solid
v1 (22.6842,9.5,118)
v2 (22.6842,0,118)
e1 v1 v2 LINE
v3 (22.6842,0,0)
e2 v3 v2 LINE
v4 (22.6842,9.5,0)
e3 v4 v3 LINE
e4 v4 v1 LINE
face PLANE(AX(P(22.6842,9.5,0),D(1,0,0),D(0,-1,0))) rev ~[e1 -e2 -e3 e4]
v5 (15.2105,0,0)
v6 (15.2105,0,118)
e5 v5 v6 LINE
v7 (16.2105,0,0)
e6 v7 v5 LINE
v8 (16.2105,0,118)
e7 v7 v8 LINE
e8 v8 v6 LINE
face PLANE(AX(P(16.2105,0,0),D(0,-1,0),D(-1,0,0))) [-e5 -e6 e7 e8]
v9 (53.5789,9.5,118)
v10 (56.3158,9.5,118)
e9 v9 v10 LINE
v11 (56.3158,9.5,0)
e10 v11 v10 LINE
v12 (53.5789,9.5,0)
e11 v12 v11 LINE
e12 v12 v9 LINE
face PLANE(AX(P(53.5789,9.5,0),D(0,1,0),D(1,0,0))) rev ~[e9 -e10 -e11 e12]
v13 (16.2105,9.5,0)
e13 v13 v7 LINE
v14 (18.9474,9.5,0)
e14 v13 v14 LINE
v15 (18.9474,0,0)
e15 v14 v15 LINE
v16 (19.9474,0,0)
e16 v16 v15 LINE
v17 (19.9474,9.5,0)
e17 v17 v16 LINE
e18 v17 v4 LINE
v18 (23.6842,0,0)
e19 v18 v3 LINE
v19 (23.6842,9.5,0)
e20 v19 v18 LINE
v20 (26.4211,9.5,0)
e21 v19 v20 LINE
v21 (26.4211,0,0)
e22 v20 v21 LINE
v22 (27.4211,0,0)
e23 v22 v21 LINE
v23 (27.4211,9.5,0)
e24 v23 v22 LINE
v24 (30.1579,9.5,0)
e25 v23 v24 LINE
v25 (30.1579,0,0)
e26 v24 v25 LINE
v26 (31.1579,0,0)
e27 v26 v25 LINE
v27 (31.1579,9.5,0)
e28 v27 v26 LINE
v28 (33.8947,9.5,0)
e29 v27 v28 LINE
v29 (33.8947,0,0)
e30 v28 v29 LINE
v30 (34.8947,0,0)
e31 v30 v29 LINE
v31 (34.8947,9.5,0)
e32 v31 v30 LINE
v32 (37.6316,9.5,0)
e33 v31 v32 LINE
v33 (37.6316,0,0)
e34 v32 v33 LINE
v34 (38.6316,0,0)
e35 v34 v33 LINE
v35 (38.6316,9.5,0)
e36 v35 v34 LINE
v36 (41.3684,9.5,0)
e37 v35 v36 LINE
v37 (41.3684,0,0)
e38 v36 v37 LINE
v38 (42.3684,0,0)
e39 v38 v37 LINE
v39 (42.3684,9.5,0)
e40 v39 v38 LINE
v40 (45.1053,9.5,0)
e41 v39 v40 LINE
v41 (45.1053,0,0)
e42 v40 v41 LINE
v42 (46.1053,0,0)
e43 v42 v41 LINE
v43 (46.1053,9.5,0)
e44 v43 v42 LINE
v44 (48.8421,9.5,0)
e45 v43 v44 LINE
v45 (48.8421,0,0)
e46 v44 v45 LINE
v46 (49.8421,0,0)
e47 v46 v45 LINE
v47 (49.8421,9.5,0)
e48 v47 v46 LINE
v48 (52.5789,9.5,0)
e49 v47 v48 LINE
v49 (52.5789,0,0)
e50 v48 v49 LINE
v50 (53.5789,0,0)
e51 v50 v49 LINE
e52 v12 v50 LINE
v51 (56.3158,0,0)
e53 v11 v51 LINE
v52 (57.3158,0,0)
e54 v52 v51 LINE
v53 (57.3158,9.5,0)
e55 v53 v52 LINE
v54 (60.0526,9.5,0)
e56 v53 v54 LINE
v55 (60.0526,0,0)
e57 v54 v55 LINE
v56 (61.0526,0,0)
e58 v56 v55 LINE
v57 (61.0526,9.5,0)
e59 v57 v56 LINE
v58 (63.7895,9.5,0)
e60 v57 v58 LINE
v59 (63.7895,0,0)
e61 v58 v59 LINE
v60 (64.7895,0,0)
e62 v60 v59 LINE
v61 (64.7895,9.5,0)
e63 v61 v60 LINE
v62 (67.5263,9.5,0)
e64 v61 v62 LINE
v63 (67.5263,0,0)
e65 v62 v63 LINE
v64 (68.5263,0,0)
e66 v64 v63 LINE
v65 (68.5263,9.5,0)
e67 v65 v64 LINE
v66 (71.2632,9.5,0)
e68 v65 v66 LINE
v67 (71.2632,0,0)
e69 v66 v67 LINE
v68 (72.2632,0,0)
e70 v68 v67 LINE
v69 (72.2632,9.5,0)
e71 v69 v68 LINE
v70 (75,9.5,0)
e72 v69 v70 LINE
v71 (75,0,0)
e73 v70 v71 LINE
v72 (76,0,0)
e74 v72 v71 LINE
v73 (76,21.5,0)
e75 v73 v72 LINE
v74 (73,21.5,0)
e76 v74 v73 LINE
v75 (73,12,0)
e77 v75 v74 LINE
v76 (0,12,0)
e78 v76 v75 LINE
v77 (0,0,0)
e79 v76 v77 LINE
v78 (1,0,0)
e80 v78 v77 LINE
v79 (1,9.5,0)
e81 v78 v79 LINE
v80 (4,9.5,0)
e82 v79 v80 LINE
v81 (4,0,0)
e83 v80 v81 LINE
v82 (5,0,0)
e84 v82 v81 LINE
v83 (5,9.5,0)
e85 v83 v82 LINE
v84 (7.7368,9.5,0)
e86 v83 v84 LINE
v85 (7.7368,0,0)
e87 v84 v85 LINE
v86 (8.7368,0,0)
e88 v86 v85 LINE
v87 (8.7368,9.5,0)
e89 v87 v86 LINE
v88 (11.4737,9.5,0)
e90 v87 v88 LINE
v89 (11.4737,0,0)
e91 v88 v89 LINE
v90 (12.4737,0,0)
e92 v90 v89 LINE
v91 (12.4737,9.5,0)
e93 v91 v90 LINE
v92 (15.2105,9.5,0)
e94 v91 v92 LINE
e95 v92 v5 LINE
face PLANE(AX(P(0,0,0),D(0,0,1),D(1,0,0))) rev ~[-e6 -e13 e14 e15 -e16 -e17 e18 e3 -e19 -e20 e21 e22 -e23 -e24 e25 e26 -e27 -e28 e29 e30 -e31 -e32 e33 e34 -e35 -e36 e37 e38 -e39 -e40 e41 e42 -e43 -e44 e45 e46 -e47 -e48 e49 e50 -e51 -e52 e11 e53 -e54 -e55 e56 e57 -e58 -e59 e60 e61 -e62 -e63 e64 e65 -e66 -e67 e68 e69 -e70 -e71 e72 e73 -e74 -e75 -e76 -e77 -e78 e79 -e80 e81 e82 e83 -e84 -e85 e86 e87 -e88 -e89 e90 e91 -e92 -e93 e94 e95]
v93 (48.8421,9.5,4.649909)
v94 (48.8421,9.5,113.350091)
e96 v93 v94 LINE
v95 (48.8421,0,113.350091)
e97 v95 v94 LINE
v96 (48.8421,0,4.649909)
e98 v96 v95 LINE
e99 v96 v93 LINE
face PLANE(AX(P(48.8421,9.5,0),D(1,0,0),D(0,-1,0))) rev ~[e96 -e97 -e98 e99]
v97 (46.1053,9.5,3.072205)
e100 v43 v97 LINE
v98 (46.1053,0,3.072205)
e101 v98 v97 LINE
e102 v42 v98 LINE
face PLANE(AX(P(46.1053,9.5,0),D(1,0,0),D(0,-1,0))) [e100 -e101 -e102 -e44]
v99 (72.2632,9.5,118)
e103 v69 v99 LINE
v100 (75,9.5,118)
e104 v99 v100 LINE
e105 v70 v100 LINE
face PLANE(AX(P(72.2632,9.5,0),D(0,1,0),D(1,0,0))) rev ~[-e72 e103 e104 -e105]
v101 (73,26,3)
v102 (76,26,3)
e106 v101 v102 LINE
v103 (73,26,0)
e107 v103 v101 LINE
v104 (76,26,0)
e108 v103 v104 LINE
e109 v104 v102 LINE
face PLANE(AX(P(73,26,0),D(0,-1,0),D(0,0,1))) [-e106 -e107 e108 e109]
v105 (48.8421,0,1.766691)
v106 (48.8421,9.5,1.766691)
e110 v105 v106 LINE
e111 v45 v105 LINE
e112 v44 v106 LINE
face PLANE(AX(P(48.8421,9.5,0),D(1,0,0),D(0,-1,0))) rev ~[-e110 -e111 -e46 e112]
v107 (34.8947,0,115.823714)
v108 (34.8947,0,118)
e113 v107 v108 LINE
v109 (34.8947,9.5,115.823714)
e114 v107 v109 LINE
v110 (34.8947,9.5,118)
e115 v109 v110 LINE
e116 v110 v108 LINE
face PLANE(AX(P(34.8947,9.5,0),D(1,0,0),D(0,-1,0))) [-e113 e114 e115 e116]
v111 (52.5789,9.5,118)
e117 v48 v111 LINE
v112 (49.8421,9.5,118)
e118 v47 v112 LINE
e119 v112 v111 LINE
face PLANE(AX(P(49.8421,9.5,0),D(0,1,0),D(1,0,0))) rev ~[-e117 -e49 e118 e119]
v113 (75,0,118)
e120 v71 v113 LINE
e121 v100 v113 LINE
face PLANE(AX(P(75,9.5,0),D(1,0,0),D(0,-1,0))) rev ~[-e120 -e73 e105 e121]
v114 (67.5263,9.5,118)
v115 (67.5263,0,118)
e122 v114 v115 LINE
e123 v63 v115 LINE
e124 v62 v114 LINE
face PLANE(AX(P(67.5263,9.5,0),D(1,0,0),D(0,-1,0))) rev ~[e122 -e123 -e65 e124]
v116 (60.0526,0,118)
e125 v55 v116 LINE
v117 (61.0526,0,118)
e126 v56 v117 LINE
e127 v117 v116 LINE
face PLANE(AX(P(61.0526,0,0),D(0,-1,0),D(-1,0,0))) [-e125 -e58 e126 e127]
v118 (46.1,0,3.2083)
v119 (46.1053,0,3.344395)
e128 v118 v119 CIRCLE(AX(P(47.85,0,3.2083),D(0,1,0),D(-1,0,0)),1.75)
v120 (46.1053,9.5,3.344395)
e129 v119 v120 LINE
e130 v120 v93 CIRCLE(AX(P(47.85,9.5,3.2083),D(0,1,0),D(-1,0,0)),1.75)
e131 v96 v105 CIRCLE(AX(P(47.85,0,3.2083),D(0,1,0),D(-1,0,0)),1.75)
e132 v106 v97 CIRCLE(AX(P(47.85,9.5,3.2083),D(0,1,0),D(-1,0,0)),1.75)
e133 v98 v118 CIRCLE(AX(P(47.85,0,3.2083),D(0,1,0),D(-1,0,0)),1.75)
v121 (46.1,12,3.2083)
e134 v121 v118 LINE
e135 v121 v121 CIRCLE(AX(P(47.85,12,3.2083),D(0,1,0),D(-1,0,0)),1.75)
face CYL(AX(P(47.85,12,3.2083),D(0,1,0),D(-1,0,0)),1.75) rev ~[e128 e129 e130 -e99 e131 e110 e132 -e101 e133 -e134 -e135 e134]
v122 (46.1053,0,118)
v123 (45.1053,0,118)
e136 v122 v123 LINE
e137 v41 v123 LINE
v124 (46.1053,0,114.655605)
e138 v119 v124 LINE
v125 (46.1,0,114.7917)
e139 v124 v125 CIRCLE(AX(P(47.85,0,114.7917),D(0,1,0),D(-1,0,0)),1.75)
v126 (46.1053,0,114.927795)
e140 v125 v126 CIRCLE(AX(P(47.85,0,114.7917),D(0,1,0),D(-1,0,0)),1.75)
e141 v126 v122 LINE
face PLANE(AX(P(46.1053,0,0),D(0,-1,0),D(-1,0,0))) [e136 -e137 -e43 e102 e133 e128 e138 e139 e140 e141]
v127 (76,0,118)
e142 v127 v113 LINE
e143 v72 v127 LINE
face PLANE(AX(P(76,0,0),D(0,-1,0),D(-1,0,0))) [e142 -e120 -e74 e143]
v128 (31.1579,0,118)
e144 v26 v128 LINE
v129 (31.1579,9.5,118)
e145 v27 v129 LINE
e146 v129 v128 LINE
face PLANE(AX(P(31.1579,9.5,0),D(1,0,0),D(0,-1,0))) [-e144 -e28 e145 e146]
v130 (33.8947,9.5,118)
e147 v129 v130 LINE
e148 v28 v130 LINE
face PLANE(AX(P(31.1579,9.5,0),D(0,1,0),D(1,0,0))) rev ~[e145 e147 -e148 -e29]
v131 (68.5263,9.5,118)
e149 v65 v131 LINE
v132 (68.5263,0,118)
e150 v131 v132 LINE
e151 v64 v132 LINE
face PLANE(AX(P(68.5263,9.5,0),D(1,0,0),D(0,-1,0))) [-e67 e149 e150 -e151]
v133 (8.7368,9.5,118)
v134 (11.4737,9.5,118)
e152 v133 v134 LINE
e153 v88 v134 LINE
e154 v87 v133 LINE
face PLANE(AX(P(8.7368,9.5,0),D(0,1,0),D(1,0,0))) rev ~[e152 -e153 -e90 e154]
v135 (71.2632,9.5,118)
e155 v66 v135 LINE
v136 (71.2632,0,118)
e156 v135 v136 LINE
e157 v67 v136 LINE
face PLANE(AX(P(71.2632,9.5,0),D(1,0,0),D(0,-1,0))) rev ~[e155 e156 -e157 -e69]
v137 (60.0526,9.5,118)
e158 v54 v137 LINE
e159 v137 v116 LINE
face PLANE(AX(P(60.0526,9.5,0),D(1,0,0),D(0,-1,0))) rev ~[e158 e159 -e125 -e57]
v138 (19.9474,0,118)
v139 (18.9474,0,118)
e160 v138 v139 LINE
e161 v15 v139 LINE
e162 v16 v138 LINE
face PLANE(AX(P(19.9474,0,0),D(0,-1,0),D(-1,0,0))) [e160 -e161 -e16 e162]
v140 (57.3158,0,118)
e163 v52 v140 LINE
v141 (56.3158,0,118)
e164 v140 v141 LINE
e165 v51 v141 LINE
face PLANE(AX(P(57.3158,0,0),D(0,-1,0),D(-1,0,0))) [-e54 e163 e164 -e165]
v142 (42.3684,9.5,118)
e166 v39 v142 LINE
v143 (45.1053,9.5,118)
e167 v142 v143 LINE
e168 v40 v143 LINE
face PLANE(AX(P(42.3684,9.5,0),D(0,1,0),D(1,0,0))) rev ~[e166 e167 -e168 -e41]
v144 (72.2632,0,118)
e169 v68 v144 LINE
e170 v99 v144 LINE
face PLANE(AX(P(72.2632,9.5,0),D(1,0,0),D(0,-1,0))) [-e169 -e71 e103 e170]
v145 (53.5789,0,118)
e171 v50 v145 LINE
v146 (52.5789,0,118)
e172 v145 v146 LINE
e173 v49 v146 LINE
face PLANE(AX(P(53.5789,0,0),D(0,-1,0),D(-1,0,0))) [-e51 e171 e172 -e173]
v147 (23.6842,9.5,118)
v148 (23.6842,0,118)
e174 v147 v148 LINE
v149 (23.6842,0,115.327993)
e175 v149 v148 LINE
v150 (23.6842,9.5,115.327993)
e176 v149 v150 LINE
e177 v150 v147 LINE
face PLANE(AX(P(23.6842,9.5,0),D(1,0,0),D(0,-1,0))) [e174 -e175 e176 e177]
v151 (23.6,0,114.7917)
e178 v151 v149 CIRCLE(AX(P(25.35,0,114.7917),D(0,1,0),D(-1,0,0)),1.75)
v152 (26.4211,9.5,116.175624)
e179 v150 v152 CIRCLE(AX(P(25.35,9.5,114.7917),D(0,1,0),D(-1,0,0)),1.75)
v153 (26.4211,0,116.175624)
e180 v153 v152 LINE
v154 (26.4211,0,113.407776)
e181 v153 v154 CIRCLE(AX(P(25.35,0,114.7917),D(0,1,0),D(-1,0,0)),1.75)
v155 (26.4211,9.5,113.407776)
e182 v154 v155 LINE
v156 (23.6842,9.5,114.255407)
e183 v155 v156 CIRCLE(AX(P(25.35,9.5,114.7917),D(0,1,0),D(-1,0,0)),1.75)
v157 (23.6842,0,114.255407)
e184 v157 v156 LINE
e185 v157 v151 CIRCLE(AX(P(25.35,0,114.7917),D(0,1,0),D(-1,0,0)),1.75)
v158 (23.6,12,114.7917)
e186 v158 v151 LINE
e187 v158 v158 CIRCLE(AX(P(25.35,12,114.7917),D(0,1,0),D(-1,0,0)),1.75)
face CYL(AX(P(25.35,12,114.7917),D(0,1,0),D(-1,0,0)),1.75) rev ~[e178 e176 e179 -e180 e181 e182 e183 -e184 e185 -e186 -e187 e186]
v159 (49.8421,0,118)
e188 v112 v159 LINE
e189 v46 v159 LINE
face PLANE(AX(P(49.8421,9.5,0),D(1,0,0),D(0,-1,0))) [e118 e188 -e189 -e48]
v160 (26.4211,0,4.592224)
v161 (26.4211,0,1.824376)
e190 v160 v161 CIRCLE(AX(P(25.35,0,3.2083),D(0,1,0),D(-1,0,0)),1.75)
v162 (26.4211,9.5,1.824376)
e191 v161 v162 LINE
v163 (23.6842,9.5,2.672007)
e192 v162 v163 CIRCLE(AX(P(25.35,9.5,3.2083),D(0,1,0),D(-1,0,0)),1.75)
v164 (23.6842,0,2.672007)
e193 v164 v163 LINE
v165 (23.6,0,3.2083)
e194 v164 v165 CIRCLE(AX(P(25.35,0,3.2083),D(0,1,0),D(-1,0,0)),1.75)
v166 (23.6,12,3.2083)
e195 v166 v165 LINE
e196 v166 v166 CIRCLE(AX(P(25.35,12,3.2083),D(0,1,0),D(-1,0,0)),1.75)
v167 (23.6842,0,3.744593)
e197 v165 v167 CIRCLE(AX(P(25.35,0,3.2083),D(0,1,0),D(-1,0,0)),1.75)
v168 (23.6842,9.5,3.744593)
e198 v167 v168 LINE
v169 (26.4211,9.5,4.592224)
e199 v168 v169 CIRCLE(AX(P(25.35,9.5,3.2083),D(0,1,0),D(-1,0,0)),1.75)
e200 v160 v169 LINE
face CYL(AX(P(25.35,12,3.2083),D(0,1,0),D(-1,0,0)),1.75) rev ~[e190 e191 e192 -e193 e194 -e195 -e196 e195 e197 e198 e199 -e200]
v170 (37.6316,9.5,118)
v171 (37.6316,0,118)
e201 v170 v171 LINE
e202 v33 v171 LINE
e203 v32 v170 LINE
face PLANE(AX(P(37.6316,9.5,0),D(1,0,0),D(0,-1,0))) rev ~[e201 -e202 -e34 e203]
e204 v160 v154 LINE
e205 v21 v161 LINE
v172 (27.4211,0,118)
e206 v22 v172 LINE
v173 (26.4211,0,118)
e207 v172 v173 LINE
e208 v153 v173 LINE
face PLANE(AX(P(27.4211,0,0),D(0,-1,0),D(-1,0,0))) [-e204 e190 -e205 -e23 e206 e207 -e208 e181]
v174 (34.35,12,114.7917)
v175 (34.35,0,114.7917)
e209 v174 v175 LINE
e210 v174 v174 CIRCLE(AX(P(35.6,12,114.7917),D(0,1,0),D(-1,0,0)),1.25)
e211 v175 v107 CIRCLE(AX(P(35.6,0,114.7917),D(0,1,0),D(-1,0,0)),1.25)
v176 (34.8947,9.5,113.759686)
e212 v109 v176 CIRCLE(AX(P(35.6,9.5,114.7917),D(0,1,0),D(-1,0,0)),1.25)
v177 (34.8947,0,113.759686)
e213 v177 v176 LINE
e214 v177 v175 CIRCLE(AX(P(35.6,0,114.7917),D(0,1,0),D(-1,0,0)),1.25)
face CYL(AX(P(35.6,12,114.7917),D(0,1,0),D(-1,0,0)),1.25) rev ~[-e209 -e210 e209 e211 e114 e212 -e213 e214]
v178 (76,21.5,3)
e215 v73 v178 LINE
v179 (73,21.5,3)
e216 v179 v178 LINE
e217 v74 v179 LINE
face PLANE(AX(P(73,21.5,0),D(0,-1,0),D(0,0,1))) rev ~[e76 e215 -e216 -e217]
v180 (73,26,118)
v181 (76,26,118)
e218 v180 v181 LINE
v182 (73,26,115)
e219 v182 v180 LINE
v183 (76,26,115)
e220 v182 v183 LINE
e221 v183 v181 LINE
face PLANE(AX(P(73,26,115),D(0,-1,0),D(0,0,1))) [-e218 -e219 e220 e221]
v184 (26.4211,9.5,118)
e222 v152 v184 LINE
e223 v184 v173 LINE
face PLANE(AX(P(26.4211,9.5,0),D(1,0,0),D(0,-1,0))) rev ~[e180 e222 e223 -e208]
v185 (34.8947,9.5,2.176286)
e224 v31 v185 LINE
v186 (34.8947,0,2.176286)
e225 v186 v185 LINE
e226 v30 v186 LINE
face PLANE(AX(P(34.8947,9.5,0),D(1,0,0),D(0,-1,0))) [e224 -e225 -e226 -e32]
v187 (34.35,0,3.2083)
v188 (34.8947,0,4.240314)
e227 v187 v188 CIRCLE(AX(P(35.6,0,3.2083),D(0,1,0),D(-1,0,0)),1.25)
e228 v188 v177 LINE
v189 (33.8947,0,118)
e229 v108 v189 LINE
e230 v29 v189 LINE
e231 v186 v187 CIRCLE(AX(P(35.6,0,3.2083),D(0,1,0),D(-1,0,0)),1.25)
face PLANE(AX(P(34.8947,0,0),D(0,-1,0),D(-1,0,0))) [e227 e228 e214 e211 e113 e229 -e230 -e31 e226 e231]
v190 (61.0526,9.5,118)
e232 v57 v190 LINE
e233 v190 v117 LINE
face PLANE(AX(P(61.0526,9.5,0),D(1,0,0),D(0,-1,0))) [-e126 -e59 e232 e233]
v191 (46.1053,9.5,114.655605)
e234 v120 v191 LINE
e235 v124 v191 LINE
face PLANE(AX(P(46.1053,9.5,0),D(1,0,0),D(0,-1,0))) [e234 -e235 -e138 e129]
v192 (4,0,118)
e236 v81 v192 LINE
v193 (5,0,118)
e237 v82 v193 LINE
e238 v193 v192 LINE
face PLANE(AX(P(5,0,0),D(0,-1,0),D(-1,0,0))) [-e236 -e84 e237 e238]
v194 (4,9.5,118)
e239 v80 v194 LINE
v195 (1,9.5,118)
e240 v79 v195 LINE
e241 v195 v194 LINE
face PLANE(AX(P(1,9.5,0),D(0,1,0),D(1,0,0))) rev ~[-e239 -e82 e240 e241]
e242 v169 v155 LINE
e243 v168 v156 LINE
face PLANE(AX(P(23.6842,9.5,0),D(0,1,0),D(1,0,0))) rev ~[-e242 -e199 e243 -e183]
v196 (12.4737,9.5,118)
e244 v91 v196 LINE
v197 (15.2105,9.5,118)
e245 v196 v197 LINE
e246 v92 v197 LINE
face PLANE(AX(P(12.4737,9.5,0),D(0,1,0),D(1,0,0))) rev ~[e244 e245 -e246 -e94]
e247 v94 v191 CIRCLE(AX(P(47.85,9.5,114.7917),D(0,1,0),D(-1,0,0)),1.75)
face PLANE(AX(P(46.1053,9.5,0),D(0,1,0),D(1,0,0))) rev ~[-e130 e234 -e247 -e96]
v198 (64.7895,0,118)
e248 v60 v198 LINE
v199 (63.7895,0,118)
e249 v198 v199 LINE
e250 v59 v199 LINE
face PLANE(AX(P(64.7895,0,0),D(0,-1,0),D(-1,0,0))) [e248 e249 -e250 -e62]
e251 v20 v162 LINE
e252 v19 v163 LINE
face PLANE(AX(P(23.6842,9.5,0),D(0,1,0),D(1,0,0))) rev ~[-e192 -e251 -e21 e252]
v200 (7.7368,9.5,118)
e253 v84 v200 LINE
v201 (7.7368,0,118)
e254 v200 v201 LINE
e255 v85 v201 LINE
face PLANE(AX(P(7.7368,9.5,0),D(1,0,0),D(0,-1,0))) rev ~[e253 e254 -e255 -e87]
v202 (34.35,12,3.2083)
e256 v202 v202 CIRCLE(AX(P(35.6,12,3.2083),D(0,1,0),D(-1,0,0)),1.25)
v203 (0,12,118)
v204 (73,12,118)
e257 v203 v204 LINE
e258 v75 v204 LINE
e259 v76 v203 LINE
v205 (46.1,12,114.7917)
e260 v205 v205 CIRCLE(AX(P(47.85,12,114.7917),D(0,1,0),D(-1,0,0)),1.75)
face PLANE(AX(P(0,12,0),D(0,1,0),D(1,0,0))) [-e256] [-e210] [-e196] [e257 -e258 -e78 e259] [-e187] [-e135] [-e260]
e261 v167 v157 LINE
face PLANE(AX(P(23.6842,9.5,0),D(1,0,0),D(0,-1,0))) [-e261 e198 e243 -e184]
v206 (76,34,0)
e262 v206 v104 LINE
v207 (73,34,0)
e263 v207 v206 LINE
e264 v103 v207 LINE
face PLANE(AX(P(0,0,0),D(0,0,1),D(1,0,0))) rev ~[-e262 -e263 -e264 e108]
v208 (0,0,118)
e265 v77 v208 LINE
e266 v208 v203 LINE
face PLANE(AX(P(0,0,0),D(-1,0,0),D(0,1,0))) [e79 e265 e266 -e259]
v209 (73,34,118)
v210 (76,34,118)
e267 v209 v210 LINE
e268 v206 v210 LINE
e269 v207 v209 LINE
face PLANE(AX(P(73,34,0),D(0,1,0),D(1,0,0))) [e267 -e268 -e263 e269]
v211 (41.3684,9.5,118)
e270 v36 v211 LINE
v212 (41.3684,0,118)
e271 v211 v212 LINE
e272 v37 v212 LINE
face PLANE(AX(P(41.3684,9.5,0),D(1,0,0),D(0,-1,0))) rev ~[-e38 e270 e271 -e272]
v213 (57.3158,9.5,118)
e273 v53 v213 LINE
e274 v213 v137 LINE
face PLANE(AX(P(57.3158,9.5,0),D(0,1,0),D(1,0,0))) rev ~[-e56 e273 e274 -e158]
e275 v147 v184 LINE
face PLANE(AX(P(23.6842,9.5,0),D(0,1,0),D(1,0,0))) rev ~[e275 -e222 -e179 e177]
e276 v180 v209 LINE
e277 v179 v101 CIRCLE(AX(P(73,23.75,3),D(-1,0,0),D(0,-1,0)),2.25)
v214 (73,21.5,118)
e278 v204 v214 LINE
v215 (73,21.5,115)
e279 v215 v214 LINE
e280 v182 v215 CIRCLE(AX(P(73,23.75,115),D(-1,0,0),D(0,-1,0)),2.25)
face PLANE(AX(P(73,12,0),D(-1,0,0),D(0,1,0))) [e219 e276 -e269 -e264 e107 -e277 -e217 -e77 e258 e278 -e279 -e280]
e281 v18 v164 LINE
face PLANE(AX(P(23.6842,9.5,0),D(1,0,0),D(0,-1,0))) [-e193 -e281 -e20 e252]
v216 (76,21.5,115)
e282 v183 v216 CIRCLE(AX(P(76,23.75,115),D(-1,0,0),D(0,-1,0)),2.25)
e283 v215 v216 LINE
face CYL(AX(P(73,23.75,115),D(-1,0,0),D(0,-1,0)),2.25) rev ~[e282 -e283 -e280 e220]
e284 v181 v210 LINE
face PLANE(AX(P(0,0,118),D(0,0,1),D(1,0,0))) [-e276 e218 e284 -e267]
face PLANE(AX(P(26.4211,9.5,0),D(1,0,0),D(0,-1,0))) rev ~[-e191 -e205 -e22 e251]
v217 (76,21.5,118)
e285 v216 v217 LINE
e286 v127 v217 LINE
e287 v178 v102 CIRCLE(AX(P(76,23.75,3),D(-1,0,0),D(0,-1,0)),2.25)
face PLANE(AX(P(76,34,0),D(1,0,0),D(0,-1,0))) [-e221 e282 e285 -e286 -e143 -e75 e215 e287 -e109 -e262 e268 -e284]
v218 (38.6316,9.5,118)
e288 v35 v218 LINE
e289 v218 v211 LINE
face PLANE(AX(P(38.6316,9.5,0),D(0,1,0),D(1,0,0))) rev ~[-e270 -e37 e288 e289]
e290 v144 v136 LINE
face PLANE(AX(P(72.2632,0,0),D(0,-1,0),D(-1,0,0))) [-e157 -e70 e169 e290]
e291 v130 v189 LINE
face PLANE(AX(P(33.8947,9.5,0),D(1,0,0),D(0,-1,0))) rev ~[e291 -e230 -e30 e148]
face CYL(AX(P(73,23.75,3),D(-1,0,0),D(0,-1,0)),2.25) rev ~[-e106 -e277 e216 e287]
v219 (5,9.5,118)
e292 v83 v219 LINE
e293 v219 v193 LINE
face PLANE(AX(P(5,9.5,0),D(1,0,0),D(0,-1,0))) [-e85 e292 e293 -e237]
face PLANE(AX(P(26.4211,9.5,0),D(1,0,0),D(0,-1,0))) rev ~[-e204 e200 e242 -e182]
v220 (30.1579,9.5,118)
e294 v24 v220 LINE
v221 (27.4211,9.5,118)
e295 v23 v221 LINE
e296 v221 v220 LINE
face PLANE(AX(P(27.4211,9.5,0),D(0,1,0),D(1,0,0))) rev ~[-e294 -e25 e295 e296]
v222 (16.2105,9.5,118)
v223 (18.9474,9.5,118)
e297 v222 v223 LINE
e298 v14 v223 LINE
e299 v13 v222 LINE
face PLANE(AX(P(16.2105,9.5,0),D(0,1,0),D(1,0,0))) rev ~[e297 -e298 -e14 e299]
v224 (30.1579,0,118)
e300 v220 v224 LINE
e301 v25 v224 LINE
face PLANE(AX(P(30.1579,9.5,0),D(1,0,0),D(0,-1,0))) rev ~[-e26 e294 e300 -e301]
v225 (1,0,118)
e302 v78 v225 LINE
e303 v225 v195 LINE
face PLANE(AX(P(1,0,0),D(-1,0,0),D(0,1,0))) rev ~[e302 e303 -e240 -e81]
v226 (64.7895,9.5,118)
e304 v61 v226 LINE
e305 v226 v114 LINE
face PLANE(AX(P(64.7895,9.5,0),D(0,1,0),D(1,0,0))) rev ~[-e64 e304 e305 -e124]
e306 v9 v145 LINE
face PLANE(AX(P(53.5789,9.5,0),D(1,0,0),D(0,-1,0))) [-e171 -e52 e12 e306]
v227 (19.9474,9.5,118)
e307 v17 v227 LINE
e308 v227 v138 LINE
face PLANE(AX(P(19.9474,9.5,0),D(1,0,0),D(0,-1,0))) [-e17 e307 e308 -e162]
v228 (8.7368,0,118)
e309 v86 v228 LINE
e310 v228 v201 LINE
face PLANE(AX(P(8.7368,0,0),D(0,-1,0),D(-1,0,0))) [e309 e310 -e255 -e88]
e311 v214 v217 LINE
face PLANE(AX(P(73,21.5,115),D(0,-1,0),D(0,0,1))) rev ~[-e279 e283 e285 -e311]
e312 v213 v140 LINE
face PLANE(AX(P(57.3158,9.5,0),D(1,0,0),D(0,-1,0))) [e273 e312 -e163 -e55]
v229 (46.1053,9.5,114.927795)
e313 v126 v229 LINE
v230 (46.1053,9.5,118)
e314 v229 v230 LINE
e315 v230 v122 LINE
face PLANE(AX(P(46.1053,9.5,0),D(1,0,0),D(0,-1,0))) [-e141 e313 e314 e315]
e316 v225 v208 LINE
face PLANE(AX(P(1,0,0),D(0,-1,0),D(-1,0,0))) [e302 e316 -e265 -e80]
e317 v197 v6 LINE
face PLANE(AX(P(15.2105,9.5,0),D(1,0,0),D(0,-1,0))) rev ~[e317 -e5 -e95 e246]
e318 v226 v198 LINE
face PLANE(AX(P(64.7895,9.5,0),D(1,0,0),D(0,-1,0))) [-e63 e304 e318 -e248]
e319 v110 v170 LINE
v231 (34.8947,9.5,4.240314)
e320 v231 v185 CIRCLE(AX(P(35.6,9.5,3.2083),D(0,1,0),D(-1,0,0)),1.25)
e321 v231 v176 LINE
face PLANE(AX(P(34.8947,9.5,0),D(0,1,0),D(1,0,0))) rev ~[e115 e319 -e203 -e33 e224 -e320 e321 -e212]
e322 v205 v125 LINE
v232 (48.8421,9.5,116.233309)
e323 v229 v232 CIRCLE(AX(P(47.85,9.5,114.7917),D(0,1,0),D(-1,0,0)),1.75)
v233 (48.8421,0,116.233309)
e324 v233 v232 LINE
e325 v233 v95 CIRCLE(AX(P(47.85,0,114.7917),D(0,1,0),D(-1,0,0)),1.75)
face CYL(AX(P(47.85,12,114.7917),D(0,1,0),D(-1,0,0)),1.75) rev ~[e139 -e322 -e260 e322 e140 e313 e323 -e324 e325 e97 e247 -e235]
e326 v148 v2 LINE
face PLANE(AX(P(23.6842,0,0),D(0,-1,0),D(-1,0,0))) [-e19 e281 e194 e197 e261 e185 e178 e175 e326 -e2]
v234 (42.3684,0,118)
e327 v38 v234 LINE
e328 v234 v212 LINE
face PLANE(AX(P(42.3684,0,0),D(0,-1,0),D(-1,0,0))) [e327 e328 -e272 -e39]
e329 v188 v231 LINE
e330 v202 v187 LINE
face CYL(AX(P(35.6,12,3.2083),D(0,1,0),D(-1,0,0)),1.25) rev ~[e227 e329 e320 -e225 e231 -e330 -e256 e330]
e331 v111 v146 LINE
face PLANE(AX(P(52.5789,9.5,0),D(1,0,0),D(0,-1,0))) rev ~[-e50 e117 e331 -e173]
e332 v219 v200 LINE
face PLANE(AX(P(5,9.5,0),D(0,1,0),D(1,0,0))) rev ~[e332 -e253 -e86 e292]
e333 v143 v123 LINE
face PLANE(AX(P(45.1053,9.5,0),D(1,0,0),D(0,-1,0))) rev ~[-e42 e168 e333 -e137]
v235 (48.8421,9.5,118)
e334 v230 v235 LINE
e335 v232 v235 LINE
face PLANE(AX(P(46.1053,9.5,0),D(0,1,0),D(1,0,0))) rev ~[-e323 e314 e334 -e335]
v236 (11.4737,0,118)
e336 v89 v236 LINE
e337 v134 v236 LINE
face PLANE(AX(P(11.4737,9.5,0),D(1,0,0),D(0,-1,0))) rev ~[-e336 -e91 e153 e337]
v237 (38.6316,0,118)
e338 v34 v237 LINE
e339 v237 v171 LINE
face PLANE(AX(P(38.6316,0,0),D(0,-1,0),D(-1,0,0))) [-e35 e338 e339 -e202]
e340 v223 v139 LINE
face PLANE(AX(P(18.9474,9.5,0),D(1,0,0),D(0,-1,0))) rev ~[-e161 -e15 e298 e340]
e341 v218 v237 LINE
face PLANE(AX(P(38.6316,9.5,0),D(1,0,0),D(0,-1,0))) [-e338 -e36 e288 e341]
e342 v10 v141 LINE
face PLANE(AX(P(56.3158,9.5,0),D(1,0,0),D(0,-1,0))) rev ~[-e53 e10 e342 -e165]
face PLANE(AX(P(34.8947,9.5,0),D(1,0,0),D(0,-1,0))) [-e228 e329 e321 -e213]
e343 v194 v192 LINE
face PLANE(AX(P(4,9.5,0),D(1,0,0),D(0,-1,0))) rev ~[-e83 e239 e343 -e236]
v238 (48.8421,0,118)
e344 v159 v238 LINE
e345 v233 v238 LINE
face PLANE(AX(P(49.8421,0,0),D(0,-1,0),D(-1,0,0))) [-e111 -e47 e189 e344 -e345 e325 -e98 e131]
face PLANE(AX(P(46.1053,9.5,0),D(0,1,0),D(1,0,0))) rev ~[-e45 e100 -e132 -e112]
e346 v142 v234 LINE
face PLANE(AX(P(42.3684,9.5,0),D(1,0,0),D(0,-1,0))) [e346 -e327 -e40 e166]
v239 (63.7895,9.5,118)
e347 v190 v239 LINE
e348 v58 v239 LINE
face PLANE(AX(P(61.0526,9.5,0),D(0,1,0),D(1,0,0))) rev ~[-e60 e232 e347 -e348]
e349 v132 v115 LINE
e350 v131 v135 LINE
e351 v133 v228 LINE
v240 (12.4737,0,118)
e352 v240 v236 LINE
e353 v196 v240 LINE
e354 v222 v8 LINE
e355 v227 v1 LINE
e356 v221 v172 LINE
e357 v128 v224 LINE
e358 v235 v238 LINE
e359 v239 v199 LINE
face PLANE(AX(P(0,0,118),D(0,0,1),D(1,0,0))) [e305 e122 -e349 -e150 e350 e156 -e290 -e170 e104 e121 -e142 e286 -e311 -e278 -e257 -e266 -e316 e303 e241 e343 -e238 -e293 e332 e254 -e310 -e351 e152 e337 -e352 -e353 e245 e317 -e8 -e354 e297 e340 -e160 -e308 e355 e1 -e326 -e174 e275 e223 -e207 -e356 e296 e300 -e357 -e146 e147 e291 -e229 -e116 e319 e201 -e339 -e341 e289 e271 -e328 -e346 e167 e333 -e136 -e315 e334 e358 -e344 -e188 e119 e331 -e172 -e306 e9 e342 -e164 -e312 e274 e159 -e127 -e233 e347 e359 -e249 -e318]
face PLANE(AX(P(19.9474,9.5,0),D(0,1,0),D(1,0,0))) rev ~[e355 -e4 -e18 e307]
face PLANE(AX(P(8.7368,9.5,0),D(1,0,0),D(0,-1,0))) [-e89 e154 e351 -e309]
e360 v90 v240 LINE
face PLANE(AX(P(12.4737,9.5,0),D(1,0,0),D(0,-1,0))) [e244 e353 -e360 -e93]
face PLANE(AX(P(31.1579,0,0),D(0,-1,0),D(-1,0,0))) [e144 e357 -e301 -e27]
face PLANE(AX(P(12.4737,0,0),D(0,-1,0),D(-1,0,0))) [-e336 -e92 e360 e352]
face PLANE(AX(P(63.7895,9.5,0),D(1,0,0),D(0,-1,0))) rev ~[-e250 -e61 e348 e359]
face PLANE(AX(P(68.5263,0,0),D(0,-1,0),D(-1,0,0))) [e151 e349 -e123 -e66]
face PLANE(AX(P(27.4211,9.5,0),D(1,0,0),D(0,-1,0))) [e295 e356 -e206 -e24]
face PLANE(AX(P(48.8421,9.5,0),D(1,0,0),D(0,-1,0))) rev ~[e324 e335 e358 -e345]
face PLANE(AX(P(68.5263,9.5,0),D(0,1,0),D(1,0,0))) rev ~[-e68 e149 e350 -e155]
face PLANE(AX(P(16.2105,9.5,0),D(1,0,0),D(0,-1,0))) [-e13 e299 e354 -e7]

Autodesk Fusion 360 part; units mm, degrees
sketch "Sketch1" plane through (0, 0, 0) normal (0, 0, 1) x (1, 0, 0)
  line L0 (0, 0) -> (0, 12)
  line L1 (0, 12) -> (73, 12)
  line L2 (73, 12) -> (73, 34)
  line L3 (73, 34) -> (76, 34)
  line L4 (76, 34) -> (76, 0)
  line L5 (1, 0) -> (1, 9.5)
  line L6 (4, 9.5) -> (4, 0)
  line L7 (5, 9.5) -> (5, 0)
  line L8 (7.7368, 9.5) -> (7.7368, 0)
  line L9 (8.7368, 9.5) -> (8.7368, 0)
  line L10 (11.4737, 9.5) -> (11.4737, 0)
  line L11 (12.4737, 9.5) -> (12.4737, 0)
  line L12 (15.2105, 9.5) -> (15.2105, 0)
  line L13 (16.2105, 9.5) -> (16.2105, 0)
  line L14 (18.9474, 9.5) -> (18.9474, 0)
  line L15 (19.9474, 9.5) -> (19.9474, 0)
  line L16 (22.6842, 9.5) -> (22.6842, 0)
  line L17 (23.6842, 9.5) -> (23.6842, 0)
  line L18 (26.4211, 9.5) -> (26.4211, 0)
  line L19 (27.4211, 9.5) -> (27.4211, 0)
  line L20 (30.1579, 9.5) -> (30.1579, 0)
  line L21 (31.1579, 9.5) -> (31.1579, 0)
  line L22 (33.8947, 9.5) -> (33.8947, 0)
  line L23 (34.8947, 9.5) -> (34.8947, 0)
  line L24 (37.6316, 9.5) -> (37.6316, 0)
  line L25 (38.6316, 9.5) -> (38.6316, 0)
  line L26 (41.3684, 9.5) -> (41.3684, 0)
  line L27 (42.3684, 9.5) -> (42.3684, 0)
  line L28 (45.1053, 9.5) -> (45.1053, 0)
  line L29 (46.1053, 9.5) -> (46.1053, 0)
  line L30 (48.8421, 9.5) -> (48.8421, 0)
  line L31 (49.8421, 9.5) -> (49.8421, 0)
  line L32 (52.5789, 9.5) -> (52.5789, 0)
  line L33 (53.5789, 9.5) -> (53.5789, 0)
  line L34 (56.3158, 9.5) -> (56.3158, 0)
  line L35 (57.3158, 9.5) -> (57.3158, 0)
  line L36 (60.0526, 9.5) -> (60.0526, 0)
  line L37 (61.0526, 9.5) -> (61.0526, 0)
  line L38 (63.7895, 9.5) -> (63.7895, 0)
  line L39 (64.7895, 9.5) -> (64.7895, 0)
  line L40 (67.5263, 9.5) -> (67.5263, 0)
  line L41 (68.5263, 9.5) -> (68.5263, 0)
  line L42 (71.2632, 9.5) -> (71.2632, 0)
  line L43 (72.2632, 9.5) -> (72.2632, 0)
  line L44 (75, 9.5) -> (75, 0)
  line L45 (76, 9.5) -> (76, 0)
  line L46 (1, 0) -> (0, 0)
  line L47 (5, 0) -> (4, 0)
  line L48 (8.7368, 0) -> (7.7368, 0)
  line L49 (12.4737, 0) -> (11.4737, 0)
  line L50 (16.2105, 0) -> (15.2105, 0)
  line L51 (19.9474, 0) -> (18.9474, 0)
  line L52 (23.6842, 0) -> (22.6842, 0)
  line L53 (27.4211, 0) -> (26.4211, 0)
  line L54 (31.1579, 0) -> (30.1579, 0)
  line L55 (34.8947, 0) -> (33.8947, 0)
  line L56 (38.6316, 0) -> (37.6316, 0)
  line L57 (42.3684, 0) -> (41.3684, 0)
  line L58 (46.1053, 0) -> (45.1053, 0)
  line L59 (49.8421, 0) -> (48.8421, 0)
  line L60 (53.5789, 0) -> (52.5789, 0)
  line L61 (57.3158, 0) -> (56.3158, 0)
  line L62 (61.0526, 0) -> (60.0526, 0)
  line L63 (64.7895, 0) -> (63.7895, 0)
  line L64 (68.5263, 0) -> (67.5263, 0)
  line L65 (76, 0) -> (75, 0)
  line L66 (72.2632, 0) -> (71.2632, 0)
  line L67 (0, 9.5) -> (4, 9.5)
  line L68 (5, 9.5) -> (7.7368, 9.5)
  line L69 (8.7368, 9.5) -> (11.4737, 9.5)
  line L70 (12.4737, 9.5) -> (15.2105, 9.5)
  line L71 (16.2105, 9.5) -> (18.9474, 9.5)
  line L72 (19.9474, 9.5) -> (22.6842, 9.5)
  line L73 (23.6842, 9.5) -> (26.4211, 9.5)
  line L74 (27.4211, 9.5) -> (30.1579, 9.5)
  line L75 (31.1579, 9.5) -> (33.8947, 9.5)
  line L76 (34.8947, 9.5) -> (37.6316, 9.5)
  line L77 (38.6316, 9.5) -> (41.3684, 9.5)
  line L78 (42.3684, 9.5) -> (45.1053, 9.5)
  line L79 (46.1053, 9.5) -> (48.8421, 9.5)
  line L80 (49.8421, 9.5) -> (52.5789, 9.5)
  line L81 (53.5789, 9.5) -> (56.3158, 9.5)
  line L82 (57.3158, 9.5) -> (60.0526, 9.5)
  line L83 (61.0526, 9.5) -> (63.7895, 9.5)
  line L84 (64.7895, 9.5) -> (67.5263, 9.5)
  line L85 (68.5263, 9.5) -> (71.2632, 9.5)
  line L86 (72.2632, 9.5) -> (75, 9.5)
  dimension "d3723_1" = 12
  dimension "d3724_1" = 73
  dimension "d3725_1" = 3
  dimension "d3726_1" = 34
  dimension "d3727_1" = 2.5
  dimension "d3728_1" = 1
  dimension "d3729_1" = 1
  dimension "d3730_1" = 3
  dimension "d3733_1" = 71
  dimension "d3734_1" = 0
extrude "Extrude1" add sketch "Sketch1" along normal blind 118
sketch "Sketch2" plane through (0, 0, 118) normal (0, 0, 1) x (-1, 0, 0)
  line L0 (-72.2632, 0) -> (-72.2632, -9.5)
  line L1 (-72.2632, -9.5) -> (-75, -9.5)
  line L2 (-75, -9.5) -> (-75, 0)
  line L3 (-75, 0) -> (-76, 0)
  line L4 (-76, 0) -> (-76, -34)
  line L5 (-76, -34) -> (-73, -34)
  line L6 (-73, -34) -> (-73, -12)
  line L7 (-73, -12) -> (0, -12)
  line L8 (0, -12) -> (0, 0)
  line L9 (0, 0) -> (-1, 0)
  line L10 (-1, 0) -> (-1, -9.5)
  line L11 (-1, -9.5) -> (-4, -9.5)
  line L12 (-4, -9.5) -> (-4, 0)
  line L13 (-4, 0) -> (-5, 0)
  line L14 (-5, 0) -> (-5, -9.5)
  line L15 (-5, -9.5) -> (-7.7368, -9.5)
  line L16 (-7.7368, -9.5) -> (-7.7368, 0)
  line L17 (-7.7368, 0) -> (-8.7368, 0)
  line L18 (-8.7368, 0) -> (-8.7368, -9.5)
  line L19 (-8.7368, -9.5) -> (-11.4737, -9.5)
  line L20 (-11.4737, -9.5) -> (-11.4737, 0)
  line L21 (-11.4737, 0) -> (-12.4737, 0)
  line L22 (-12.4737, 0) -> (-12.4737, -9.5)
  line L23 (-12.4737, -9.5) -> (-15.2105, -9.5)
  line L24 (-15.2105, -9.5) -> (-15.2105, 0)
  line L25 (-15.2105, 0) -> (-16.2105, 0)
  line L26 (-16.2105, 0) -> (-16.2105, -9.5)
  line L27 (-16.2105, -9.5) -> (-18.9474, -9.5)
  line L28 (-18.9474, -9.5) -> (-18.9474, 0)
  line L29 (-18.9474, 0) -> (-19.9474, 0)
  line L30 (-19.9474, 0) -> (-19.9474, -9.5)
  line L31 (-19.9474, -9.5) -> (-22.6842, -9.5)
  line L32 (-22.6842, -9.5) -> (-22.6842, 0)
  line L33 (-22.6842, 0) -> (-23.6842, 0)
  line L34 (-23.6842, 0) -> (-23.6842, -9.5)
  line L35 (-23.6842, -9.5) -> (-26.4211, -9.5)
  line L36 (-26.4211, -9.5) -> (-26.4211, 0)
  line L37 (-26.4211, 0) -> (-27.4211, 0)
  line L38 (-27.4211, 0) -> (-27.4211, -9.5)
  line L39 (-27.4211, -9.5) -> (-30.1579, -9.5)
  line L40 (-30.1579, -9.5) -> (-30.1579, 0)
  line L41 (-30.1579, 0) -> (-31.1579, 0)
  line L42 (-31.1579, 0) -> (-31.1579, -9.5)
  line L43 (-31.1579, -9.5) -> (-33.8947, -9.5)
  line L44 (-33.8947, -9.5) -> (-33.8947, 0)
  line L45 (-33.8947, 0) -> (-34.8947, 0)
  line L46 (-34.8947, 0) -> (-34.8947, -9.5)
  line L47 (-34.8947, -9.5) -> (-37.6316, -9.5)
  line L48 (-37.6316, -9.5) -> (-37.6316, 0)
  line L49 (-37.6316, 0) -> (-38.6316, 0)
  line L50 (-38.6316, 0) -> (-38.6316, -9.5)
  line L51 (-38.6316, -9.5) -> (-41.3684, -9.5)
  line L52 (-41.3684, -9.5) -> (-41.3684, 0)
  line L53 (-41.3684, 0) -> (-42.3684, 0)
  line L54 (-42.3684, 0) -> (-42.3684, -9.5)
  line L55 (-42.3684, -9.5) -> (-45.1053, -9.5)
  line L56 (-45.1053, -9.5) -> (-45.1053, 0)
  line L57 (-45.1053, 0) -> (-46.1053, 0)
  line L58 (-46.1053, 0) -> (-46.1053, -9.5)
  line L59 (-46.1053, -9.5) -> (-48.8421, -9.5)
  line L60 (-48.8421, -9.5) -> (-48.8421, 0)
  line L61 (-48.8421, 0) -> (-49.8421, 0)
  line L62 (-49.8421, 0) -> (-49.8421, -9.5)
  line L63 (-49.8421, -9.5) -> (-52.5789, -9.5)
  line L64 (-52.5789, -9.5) -> (-52.5789, 0)
  line L65 (-52.5789, 0) -> (-53.5789, 0)
  line L66 (-53.5789, 0) -> (-53.5789, -9.5)
  line L67 (-53.5789, -9.5) -> (-56.3158, -9.5)
  line L68 (-56.3158, -9.5) -> (-56.3158, 0)
  line L69 (-56.3158, 0) -> (-57.3158, 0)
  line L70 (-57.3158, 0) -> (-57.3158, -9.5)
  line L71 (-57.3158, -9.5) -> (-60.0526, -9.5)
  line L72 (-60.0526, -9.5) -> (-60.0526, 0)
  line L73 (-60.0526, 0) -> (-61.0526, 0)
  line L74 (-61.0526, 0) -> (-61.0526, -9.5)
  line L75 (-61.0526, -9.5) -> (-63.7895, -9.5)
  line L76 (-63.7895, -9.5) -> (-63.7895, 0)
  line L77 (-63.7895, 0) -> (-64.7895, 0)
  line L78 (-64.7895, 0) -> (-64.7895, -9.5)
  line L79 (-64.7895, -9.5) -> (-67.5263, -9.5)
  line L80 (-67.5263, -9.5) -> (-67.5263, 0)
  line L81 (-67.5263, 0) -> (-68.5263, 0)
  line L82 (-68.5263, 0) -> (-68.5263, -9.5)
  line L83 (-68.5263, -9.5) -> (-71.2632, -9.5)
  line L84 (-71.2632, -9.5) -> (-71.2632, 0)
  line L85 (-71.2632, 0) -> (-72.2632, 0)
  line L86 (0, -12) -> (0, -34)
  line L87 (0, -34) -> (-73, -34)
sketch "Sketch3" plane through (73, 0, 0) normal (-1, 0, 0) x (0, -1, 0)
  line L0 (-34, 0) -> (-12, 0)
  line L1 (-12, 0) -> (-12, 118)
  line L2 (-12, 118) -> (-34, 118)
  line L3 (-34, 118) -> (-34, 0)
  line L4 (-21.5, 0) -> (-21.5, 118)
  line L5 (-26, 0) -> (-26, 118)
  line L6 (-26, 0) -> (-21.5, 0)
  line L7 (-23.75, 0) -> (-23.75, 3)
  circle A0 centre (-23.75, 3) radius 2.25
  line L8 (-26, 118) -> (-21.5, 118)
  line L9 (-23.75, 118) -> (-23.75, 115)
  circle A1 centre (-23.75, 115) radius 2.25
  dimension "d3744_1" = 9.5
  dimension "d3745_1" = 8
  dimension "d3746_1" = 3
  dimension "d3747_1" = 3
extrude "Extrude5" cut sketch "Sketch3" against normal blind 3 contours L0 L5 L6 L7 A0 | L0 L4 L6 L7 A0 | A0 | L2 L5 L8 L9 A1 | A1 | L2 L4 L8 L9 A1
sketch "Sketch5" plane through (0, 12, 0) normal (0, 1, 0) x (-1, 0, 0)
  line L0 (-73, 0) -> (0, 0)
  line L1 (0, 0) -> (0, 118)
  line L2 (0, 118) -> (-73, 118)
  line L3 (-73, 118) -> (-73, 0)
  line L4 (-47.85, 114.7917) -> (-25.35, 114.7917) construction
  circle A0 centre (-25.35, 114.7917) radius 1.75
  circle A1 centre (-47.85, 114.7917) radius 1.75
  line L5 (0, 59) -> (-73, 59) construction
  line L6 (-25.35, 114.7917) -> (-23.6, 114.7917) construction
  line L7 (-47.85, 114.7917) -> (-46.1, 114.7917) construction
  line L8 (-25.35, 114.7917) -> (-27.1, 114.7917) construction
  circle A2 centre (-35.6, 114.7917) radius 1.25
  circle A3 centre (-47.85, 3.2083) radius 1.75
  circle A4 centre (-35.6, 3.2083) radius 1.25
  circle A5 centre (-25.35, 3.2083) radius 1.75
  dimension "d13" = 3.5
  dimension "d14" = 3.5
  dimension "d15" = 23.6
  dimension "d16" = 19
  dimension "d17" = 35.6
  dimension "d18" = 2.5
extrude "Extrude8" cut sketch "Sketch5" against normal blind 12 contours A0 | A1 | A2 | A3 | A4 | A5
equation "d3744_1 = 21.5 mm - 12 mm"
equation "d13 = d14"
